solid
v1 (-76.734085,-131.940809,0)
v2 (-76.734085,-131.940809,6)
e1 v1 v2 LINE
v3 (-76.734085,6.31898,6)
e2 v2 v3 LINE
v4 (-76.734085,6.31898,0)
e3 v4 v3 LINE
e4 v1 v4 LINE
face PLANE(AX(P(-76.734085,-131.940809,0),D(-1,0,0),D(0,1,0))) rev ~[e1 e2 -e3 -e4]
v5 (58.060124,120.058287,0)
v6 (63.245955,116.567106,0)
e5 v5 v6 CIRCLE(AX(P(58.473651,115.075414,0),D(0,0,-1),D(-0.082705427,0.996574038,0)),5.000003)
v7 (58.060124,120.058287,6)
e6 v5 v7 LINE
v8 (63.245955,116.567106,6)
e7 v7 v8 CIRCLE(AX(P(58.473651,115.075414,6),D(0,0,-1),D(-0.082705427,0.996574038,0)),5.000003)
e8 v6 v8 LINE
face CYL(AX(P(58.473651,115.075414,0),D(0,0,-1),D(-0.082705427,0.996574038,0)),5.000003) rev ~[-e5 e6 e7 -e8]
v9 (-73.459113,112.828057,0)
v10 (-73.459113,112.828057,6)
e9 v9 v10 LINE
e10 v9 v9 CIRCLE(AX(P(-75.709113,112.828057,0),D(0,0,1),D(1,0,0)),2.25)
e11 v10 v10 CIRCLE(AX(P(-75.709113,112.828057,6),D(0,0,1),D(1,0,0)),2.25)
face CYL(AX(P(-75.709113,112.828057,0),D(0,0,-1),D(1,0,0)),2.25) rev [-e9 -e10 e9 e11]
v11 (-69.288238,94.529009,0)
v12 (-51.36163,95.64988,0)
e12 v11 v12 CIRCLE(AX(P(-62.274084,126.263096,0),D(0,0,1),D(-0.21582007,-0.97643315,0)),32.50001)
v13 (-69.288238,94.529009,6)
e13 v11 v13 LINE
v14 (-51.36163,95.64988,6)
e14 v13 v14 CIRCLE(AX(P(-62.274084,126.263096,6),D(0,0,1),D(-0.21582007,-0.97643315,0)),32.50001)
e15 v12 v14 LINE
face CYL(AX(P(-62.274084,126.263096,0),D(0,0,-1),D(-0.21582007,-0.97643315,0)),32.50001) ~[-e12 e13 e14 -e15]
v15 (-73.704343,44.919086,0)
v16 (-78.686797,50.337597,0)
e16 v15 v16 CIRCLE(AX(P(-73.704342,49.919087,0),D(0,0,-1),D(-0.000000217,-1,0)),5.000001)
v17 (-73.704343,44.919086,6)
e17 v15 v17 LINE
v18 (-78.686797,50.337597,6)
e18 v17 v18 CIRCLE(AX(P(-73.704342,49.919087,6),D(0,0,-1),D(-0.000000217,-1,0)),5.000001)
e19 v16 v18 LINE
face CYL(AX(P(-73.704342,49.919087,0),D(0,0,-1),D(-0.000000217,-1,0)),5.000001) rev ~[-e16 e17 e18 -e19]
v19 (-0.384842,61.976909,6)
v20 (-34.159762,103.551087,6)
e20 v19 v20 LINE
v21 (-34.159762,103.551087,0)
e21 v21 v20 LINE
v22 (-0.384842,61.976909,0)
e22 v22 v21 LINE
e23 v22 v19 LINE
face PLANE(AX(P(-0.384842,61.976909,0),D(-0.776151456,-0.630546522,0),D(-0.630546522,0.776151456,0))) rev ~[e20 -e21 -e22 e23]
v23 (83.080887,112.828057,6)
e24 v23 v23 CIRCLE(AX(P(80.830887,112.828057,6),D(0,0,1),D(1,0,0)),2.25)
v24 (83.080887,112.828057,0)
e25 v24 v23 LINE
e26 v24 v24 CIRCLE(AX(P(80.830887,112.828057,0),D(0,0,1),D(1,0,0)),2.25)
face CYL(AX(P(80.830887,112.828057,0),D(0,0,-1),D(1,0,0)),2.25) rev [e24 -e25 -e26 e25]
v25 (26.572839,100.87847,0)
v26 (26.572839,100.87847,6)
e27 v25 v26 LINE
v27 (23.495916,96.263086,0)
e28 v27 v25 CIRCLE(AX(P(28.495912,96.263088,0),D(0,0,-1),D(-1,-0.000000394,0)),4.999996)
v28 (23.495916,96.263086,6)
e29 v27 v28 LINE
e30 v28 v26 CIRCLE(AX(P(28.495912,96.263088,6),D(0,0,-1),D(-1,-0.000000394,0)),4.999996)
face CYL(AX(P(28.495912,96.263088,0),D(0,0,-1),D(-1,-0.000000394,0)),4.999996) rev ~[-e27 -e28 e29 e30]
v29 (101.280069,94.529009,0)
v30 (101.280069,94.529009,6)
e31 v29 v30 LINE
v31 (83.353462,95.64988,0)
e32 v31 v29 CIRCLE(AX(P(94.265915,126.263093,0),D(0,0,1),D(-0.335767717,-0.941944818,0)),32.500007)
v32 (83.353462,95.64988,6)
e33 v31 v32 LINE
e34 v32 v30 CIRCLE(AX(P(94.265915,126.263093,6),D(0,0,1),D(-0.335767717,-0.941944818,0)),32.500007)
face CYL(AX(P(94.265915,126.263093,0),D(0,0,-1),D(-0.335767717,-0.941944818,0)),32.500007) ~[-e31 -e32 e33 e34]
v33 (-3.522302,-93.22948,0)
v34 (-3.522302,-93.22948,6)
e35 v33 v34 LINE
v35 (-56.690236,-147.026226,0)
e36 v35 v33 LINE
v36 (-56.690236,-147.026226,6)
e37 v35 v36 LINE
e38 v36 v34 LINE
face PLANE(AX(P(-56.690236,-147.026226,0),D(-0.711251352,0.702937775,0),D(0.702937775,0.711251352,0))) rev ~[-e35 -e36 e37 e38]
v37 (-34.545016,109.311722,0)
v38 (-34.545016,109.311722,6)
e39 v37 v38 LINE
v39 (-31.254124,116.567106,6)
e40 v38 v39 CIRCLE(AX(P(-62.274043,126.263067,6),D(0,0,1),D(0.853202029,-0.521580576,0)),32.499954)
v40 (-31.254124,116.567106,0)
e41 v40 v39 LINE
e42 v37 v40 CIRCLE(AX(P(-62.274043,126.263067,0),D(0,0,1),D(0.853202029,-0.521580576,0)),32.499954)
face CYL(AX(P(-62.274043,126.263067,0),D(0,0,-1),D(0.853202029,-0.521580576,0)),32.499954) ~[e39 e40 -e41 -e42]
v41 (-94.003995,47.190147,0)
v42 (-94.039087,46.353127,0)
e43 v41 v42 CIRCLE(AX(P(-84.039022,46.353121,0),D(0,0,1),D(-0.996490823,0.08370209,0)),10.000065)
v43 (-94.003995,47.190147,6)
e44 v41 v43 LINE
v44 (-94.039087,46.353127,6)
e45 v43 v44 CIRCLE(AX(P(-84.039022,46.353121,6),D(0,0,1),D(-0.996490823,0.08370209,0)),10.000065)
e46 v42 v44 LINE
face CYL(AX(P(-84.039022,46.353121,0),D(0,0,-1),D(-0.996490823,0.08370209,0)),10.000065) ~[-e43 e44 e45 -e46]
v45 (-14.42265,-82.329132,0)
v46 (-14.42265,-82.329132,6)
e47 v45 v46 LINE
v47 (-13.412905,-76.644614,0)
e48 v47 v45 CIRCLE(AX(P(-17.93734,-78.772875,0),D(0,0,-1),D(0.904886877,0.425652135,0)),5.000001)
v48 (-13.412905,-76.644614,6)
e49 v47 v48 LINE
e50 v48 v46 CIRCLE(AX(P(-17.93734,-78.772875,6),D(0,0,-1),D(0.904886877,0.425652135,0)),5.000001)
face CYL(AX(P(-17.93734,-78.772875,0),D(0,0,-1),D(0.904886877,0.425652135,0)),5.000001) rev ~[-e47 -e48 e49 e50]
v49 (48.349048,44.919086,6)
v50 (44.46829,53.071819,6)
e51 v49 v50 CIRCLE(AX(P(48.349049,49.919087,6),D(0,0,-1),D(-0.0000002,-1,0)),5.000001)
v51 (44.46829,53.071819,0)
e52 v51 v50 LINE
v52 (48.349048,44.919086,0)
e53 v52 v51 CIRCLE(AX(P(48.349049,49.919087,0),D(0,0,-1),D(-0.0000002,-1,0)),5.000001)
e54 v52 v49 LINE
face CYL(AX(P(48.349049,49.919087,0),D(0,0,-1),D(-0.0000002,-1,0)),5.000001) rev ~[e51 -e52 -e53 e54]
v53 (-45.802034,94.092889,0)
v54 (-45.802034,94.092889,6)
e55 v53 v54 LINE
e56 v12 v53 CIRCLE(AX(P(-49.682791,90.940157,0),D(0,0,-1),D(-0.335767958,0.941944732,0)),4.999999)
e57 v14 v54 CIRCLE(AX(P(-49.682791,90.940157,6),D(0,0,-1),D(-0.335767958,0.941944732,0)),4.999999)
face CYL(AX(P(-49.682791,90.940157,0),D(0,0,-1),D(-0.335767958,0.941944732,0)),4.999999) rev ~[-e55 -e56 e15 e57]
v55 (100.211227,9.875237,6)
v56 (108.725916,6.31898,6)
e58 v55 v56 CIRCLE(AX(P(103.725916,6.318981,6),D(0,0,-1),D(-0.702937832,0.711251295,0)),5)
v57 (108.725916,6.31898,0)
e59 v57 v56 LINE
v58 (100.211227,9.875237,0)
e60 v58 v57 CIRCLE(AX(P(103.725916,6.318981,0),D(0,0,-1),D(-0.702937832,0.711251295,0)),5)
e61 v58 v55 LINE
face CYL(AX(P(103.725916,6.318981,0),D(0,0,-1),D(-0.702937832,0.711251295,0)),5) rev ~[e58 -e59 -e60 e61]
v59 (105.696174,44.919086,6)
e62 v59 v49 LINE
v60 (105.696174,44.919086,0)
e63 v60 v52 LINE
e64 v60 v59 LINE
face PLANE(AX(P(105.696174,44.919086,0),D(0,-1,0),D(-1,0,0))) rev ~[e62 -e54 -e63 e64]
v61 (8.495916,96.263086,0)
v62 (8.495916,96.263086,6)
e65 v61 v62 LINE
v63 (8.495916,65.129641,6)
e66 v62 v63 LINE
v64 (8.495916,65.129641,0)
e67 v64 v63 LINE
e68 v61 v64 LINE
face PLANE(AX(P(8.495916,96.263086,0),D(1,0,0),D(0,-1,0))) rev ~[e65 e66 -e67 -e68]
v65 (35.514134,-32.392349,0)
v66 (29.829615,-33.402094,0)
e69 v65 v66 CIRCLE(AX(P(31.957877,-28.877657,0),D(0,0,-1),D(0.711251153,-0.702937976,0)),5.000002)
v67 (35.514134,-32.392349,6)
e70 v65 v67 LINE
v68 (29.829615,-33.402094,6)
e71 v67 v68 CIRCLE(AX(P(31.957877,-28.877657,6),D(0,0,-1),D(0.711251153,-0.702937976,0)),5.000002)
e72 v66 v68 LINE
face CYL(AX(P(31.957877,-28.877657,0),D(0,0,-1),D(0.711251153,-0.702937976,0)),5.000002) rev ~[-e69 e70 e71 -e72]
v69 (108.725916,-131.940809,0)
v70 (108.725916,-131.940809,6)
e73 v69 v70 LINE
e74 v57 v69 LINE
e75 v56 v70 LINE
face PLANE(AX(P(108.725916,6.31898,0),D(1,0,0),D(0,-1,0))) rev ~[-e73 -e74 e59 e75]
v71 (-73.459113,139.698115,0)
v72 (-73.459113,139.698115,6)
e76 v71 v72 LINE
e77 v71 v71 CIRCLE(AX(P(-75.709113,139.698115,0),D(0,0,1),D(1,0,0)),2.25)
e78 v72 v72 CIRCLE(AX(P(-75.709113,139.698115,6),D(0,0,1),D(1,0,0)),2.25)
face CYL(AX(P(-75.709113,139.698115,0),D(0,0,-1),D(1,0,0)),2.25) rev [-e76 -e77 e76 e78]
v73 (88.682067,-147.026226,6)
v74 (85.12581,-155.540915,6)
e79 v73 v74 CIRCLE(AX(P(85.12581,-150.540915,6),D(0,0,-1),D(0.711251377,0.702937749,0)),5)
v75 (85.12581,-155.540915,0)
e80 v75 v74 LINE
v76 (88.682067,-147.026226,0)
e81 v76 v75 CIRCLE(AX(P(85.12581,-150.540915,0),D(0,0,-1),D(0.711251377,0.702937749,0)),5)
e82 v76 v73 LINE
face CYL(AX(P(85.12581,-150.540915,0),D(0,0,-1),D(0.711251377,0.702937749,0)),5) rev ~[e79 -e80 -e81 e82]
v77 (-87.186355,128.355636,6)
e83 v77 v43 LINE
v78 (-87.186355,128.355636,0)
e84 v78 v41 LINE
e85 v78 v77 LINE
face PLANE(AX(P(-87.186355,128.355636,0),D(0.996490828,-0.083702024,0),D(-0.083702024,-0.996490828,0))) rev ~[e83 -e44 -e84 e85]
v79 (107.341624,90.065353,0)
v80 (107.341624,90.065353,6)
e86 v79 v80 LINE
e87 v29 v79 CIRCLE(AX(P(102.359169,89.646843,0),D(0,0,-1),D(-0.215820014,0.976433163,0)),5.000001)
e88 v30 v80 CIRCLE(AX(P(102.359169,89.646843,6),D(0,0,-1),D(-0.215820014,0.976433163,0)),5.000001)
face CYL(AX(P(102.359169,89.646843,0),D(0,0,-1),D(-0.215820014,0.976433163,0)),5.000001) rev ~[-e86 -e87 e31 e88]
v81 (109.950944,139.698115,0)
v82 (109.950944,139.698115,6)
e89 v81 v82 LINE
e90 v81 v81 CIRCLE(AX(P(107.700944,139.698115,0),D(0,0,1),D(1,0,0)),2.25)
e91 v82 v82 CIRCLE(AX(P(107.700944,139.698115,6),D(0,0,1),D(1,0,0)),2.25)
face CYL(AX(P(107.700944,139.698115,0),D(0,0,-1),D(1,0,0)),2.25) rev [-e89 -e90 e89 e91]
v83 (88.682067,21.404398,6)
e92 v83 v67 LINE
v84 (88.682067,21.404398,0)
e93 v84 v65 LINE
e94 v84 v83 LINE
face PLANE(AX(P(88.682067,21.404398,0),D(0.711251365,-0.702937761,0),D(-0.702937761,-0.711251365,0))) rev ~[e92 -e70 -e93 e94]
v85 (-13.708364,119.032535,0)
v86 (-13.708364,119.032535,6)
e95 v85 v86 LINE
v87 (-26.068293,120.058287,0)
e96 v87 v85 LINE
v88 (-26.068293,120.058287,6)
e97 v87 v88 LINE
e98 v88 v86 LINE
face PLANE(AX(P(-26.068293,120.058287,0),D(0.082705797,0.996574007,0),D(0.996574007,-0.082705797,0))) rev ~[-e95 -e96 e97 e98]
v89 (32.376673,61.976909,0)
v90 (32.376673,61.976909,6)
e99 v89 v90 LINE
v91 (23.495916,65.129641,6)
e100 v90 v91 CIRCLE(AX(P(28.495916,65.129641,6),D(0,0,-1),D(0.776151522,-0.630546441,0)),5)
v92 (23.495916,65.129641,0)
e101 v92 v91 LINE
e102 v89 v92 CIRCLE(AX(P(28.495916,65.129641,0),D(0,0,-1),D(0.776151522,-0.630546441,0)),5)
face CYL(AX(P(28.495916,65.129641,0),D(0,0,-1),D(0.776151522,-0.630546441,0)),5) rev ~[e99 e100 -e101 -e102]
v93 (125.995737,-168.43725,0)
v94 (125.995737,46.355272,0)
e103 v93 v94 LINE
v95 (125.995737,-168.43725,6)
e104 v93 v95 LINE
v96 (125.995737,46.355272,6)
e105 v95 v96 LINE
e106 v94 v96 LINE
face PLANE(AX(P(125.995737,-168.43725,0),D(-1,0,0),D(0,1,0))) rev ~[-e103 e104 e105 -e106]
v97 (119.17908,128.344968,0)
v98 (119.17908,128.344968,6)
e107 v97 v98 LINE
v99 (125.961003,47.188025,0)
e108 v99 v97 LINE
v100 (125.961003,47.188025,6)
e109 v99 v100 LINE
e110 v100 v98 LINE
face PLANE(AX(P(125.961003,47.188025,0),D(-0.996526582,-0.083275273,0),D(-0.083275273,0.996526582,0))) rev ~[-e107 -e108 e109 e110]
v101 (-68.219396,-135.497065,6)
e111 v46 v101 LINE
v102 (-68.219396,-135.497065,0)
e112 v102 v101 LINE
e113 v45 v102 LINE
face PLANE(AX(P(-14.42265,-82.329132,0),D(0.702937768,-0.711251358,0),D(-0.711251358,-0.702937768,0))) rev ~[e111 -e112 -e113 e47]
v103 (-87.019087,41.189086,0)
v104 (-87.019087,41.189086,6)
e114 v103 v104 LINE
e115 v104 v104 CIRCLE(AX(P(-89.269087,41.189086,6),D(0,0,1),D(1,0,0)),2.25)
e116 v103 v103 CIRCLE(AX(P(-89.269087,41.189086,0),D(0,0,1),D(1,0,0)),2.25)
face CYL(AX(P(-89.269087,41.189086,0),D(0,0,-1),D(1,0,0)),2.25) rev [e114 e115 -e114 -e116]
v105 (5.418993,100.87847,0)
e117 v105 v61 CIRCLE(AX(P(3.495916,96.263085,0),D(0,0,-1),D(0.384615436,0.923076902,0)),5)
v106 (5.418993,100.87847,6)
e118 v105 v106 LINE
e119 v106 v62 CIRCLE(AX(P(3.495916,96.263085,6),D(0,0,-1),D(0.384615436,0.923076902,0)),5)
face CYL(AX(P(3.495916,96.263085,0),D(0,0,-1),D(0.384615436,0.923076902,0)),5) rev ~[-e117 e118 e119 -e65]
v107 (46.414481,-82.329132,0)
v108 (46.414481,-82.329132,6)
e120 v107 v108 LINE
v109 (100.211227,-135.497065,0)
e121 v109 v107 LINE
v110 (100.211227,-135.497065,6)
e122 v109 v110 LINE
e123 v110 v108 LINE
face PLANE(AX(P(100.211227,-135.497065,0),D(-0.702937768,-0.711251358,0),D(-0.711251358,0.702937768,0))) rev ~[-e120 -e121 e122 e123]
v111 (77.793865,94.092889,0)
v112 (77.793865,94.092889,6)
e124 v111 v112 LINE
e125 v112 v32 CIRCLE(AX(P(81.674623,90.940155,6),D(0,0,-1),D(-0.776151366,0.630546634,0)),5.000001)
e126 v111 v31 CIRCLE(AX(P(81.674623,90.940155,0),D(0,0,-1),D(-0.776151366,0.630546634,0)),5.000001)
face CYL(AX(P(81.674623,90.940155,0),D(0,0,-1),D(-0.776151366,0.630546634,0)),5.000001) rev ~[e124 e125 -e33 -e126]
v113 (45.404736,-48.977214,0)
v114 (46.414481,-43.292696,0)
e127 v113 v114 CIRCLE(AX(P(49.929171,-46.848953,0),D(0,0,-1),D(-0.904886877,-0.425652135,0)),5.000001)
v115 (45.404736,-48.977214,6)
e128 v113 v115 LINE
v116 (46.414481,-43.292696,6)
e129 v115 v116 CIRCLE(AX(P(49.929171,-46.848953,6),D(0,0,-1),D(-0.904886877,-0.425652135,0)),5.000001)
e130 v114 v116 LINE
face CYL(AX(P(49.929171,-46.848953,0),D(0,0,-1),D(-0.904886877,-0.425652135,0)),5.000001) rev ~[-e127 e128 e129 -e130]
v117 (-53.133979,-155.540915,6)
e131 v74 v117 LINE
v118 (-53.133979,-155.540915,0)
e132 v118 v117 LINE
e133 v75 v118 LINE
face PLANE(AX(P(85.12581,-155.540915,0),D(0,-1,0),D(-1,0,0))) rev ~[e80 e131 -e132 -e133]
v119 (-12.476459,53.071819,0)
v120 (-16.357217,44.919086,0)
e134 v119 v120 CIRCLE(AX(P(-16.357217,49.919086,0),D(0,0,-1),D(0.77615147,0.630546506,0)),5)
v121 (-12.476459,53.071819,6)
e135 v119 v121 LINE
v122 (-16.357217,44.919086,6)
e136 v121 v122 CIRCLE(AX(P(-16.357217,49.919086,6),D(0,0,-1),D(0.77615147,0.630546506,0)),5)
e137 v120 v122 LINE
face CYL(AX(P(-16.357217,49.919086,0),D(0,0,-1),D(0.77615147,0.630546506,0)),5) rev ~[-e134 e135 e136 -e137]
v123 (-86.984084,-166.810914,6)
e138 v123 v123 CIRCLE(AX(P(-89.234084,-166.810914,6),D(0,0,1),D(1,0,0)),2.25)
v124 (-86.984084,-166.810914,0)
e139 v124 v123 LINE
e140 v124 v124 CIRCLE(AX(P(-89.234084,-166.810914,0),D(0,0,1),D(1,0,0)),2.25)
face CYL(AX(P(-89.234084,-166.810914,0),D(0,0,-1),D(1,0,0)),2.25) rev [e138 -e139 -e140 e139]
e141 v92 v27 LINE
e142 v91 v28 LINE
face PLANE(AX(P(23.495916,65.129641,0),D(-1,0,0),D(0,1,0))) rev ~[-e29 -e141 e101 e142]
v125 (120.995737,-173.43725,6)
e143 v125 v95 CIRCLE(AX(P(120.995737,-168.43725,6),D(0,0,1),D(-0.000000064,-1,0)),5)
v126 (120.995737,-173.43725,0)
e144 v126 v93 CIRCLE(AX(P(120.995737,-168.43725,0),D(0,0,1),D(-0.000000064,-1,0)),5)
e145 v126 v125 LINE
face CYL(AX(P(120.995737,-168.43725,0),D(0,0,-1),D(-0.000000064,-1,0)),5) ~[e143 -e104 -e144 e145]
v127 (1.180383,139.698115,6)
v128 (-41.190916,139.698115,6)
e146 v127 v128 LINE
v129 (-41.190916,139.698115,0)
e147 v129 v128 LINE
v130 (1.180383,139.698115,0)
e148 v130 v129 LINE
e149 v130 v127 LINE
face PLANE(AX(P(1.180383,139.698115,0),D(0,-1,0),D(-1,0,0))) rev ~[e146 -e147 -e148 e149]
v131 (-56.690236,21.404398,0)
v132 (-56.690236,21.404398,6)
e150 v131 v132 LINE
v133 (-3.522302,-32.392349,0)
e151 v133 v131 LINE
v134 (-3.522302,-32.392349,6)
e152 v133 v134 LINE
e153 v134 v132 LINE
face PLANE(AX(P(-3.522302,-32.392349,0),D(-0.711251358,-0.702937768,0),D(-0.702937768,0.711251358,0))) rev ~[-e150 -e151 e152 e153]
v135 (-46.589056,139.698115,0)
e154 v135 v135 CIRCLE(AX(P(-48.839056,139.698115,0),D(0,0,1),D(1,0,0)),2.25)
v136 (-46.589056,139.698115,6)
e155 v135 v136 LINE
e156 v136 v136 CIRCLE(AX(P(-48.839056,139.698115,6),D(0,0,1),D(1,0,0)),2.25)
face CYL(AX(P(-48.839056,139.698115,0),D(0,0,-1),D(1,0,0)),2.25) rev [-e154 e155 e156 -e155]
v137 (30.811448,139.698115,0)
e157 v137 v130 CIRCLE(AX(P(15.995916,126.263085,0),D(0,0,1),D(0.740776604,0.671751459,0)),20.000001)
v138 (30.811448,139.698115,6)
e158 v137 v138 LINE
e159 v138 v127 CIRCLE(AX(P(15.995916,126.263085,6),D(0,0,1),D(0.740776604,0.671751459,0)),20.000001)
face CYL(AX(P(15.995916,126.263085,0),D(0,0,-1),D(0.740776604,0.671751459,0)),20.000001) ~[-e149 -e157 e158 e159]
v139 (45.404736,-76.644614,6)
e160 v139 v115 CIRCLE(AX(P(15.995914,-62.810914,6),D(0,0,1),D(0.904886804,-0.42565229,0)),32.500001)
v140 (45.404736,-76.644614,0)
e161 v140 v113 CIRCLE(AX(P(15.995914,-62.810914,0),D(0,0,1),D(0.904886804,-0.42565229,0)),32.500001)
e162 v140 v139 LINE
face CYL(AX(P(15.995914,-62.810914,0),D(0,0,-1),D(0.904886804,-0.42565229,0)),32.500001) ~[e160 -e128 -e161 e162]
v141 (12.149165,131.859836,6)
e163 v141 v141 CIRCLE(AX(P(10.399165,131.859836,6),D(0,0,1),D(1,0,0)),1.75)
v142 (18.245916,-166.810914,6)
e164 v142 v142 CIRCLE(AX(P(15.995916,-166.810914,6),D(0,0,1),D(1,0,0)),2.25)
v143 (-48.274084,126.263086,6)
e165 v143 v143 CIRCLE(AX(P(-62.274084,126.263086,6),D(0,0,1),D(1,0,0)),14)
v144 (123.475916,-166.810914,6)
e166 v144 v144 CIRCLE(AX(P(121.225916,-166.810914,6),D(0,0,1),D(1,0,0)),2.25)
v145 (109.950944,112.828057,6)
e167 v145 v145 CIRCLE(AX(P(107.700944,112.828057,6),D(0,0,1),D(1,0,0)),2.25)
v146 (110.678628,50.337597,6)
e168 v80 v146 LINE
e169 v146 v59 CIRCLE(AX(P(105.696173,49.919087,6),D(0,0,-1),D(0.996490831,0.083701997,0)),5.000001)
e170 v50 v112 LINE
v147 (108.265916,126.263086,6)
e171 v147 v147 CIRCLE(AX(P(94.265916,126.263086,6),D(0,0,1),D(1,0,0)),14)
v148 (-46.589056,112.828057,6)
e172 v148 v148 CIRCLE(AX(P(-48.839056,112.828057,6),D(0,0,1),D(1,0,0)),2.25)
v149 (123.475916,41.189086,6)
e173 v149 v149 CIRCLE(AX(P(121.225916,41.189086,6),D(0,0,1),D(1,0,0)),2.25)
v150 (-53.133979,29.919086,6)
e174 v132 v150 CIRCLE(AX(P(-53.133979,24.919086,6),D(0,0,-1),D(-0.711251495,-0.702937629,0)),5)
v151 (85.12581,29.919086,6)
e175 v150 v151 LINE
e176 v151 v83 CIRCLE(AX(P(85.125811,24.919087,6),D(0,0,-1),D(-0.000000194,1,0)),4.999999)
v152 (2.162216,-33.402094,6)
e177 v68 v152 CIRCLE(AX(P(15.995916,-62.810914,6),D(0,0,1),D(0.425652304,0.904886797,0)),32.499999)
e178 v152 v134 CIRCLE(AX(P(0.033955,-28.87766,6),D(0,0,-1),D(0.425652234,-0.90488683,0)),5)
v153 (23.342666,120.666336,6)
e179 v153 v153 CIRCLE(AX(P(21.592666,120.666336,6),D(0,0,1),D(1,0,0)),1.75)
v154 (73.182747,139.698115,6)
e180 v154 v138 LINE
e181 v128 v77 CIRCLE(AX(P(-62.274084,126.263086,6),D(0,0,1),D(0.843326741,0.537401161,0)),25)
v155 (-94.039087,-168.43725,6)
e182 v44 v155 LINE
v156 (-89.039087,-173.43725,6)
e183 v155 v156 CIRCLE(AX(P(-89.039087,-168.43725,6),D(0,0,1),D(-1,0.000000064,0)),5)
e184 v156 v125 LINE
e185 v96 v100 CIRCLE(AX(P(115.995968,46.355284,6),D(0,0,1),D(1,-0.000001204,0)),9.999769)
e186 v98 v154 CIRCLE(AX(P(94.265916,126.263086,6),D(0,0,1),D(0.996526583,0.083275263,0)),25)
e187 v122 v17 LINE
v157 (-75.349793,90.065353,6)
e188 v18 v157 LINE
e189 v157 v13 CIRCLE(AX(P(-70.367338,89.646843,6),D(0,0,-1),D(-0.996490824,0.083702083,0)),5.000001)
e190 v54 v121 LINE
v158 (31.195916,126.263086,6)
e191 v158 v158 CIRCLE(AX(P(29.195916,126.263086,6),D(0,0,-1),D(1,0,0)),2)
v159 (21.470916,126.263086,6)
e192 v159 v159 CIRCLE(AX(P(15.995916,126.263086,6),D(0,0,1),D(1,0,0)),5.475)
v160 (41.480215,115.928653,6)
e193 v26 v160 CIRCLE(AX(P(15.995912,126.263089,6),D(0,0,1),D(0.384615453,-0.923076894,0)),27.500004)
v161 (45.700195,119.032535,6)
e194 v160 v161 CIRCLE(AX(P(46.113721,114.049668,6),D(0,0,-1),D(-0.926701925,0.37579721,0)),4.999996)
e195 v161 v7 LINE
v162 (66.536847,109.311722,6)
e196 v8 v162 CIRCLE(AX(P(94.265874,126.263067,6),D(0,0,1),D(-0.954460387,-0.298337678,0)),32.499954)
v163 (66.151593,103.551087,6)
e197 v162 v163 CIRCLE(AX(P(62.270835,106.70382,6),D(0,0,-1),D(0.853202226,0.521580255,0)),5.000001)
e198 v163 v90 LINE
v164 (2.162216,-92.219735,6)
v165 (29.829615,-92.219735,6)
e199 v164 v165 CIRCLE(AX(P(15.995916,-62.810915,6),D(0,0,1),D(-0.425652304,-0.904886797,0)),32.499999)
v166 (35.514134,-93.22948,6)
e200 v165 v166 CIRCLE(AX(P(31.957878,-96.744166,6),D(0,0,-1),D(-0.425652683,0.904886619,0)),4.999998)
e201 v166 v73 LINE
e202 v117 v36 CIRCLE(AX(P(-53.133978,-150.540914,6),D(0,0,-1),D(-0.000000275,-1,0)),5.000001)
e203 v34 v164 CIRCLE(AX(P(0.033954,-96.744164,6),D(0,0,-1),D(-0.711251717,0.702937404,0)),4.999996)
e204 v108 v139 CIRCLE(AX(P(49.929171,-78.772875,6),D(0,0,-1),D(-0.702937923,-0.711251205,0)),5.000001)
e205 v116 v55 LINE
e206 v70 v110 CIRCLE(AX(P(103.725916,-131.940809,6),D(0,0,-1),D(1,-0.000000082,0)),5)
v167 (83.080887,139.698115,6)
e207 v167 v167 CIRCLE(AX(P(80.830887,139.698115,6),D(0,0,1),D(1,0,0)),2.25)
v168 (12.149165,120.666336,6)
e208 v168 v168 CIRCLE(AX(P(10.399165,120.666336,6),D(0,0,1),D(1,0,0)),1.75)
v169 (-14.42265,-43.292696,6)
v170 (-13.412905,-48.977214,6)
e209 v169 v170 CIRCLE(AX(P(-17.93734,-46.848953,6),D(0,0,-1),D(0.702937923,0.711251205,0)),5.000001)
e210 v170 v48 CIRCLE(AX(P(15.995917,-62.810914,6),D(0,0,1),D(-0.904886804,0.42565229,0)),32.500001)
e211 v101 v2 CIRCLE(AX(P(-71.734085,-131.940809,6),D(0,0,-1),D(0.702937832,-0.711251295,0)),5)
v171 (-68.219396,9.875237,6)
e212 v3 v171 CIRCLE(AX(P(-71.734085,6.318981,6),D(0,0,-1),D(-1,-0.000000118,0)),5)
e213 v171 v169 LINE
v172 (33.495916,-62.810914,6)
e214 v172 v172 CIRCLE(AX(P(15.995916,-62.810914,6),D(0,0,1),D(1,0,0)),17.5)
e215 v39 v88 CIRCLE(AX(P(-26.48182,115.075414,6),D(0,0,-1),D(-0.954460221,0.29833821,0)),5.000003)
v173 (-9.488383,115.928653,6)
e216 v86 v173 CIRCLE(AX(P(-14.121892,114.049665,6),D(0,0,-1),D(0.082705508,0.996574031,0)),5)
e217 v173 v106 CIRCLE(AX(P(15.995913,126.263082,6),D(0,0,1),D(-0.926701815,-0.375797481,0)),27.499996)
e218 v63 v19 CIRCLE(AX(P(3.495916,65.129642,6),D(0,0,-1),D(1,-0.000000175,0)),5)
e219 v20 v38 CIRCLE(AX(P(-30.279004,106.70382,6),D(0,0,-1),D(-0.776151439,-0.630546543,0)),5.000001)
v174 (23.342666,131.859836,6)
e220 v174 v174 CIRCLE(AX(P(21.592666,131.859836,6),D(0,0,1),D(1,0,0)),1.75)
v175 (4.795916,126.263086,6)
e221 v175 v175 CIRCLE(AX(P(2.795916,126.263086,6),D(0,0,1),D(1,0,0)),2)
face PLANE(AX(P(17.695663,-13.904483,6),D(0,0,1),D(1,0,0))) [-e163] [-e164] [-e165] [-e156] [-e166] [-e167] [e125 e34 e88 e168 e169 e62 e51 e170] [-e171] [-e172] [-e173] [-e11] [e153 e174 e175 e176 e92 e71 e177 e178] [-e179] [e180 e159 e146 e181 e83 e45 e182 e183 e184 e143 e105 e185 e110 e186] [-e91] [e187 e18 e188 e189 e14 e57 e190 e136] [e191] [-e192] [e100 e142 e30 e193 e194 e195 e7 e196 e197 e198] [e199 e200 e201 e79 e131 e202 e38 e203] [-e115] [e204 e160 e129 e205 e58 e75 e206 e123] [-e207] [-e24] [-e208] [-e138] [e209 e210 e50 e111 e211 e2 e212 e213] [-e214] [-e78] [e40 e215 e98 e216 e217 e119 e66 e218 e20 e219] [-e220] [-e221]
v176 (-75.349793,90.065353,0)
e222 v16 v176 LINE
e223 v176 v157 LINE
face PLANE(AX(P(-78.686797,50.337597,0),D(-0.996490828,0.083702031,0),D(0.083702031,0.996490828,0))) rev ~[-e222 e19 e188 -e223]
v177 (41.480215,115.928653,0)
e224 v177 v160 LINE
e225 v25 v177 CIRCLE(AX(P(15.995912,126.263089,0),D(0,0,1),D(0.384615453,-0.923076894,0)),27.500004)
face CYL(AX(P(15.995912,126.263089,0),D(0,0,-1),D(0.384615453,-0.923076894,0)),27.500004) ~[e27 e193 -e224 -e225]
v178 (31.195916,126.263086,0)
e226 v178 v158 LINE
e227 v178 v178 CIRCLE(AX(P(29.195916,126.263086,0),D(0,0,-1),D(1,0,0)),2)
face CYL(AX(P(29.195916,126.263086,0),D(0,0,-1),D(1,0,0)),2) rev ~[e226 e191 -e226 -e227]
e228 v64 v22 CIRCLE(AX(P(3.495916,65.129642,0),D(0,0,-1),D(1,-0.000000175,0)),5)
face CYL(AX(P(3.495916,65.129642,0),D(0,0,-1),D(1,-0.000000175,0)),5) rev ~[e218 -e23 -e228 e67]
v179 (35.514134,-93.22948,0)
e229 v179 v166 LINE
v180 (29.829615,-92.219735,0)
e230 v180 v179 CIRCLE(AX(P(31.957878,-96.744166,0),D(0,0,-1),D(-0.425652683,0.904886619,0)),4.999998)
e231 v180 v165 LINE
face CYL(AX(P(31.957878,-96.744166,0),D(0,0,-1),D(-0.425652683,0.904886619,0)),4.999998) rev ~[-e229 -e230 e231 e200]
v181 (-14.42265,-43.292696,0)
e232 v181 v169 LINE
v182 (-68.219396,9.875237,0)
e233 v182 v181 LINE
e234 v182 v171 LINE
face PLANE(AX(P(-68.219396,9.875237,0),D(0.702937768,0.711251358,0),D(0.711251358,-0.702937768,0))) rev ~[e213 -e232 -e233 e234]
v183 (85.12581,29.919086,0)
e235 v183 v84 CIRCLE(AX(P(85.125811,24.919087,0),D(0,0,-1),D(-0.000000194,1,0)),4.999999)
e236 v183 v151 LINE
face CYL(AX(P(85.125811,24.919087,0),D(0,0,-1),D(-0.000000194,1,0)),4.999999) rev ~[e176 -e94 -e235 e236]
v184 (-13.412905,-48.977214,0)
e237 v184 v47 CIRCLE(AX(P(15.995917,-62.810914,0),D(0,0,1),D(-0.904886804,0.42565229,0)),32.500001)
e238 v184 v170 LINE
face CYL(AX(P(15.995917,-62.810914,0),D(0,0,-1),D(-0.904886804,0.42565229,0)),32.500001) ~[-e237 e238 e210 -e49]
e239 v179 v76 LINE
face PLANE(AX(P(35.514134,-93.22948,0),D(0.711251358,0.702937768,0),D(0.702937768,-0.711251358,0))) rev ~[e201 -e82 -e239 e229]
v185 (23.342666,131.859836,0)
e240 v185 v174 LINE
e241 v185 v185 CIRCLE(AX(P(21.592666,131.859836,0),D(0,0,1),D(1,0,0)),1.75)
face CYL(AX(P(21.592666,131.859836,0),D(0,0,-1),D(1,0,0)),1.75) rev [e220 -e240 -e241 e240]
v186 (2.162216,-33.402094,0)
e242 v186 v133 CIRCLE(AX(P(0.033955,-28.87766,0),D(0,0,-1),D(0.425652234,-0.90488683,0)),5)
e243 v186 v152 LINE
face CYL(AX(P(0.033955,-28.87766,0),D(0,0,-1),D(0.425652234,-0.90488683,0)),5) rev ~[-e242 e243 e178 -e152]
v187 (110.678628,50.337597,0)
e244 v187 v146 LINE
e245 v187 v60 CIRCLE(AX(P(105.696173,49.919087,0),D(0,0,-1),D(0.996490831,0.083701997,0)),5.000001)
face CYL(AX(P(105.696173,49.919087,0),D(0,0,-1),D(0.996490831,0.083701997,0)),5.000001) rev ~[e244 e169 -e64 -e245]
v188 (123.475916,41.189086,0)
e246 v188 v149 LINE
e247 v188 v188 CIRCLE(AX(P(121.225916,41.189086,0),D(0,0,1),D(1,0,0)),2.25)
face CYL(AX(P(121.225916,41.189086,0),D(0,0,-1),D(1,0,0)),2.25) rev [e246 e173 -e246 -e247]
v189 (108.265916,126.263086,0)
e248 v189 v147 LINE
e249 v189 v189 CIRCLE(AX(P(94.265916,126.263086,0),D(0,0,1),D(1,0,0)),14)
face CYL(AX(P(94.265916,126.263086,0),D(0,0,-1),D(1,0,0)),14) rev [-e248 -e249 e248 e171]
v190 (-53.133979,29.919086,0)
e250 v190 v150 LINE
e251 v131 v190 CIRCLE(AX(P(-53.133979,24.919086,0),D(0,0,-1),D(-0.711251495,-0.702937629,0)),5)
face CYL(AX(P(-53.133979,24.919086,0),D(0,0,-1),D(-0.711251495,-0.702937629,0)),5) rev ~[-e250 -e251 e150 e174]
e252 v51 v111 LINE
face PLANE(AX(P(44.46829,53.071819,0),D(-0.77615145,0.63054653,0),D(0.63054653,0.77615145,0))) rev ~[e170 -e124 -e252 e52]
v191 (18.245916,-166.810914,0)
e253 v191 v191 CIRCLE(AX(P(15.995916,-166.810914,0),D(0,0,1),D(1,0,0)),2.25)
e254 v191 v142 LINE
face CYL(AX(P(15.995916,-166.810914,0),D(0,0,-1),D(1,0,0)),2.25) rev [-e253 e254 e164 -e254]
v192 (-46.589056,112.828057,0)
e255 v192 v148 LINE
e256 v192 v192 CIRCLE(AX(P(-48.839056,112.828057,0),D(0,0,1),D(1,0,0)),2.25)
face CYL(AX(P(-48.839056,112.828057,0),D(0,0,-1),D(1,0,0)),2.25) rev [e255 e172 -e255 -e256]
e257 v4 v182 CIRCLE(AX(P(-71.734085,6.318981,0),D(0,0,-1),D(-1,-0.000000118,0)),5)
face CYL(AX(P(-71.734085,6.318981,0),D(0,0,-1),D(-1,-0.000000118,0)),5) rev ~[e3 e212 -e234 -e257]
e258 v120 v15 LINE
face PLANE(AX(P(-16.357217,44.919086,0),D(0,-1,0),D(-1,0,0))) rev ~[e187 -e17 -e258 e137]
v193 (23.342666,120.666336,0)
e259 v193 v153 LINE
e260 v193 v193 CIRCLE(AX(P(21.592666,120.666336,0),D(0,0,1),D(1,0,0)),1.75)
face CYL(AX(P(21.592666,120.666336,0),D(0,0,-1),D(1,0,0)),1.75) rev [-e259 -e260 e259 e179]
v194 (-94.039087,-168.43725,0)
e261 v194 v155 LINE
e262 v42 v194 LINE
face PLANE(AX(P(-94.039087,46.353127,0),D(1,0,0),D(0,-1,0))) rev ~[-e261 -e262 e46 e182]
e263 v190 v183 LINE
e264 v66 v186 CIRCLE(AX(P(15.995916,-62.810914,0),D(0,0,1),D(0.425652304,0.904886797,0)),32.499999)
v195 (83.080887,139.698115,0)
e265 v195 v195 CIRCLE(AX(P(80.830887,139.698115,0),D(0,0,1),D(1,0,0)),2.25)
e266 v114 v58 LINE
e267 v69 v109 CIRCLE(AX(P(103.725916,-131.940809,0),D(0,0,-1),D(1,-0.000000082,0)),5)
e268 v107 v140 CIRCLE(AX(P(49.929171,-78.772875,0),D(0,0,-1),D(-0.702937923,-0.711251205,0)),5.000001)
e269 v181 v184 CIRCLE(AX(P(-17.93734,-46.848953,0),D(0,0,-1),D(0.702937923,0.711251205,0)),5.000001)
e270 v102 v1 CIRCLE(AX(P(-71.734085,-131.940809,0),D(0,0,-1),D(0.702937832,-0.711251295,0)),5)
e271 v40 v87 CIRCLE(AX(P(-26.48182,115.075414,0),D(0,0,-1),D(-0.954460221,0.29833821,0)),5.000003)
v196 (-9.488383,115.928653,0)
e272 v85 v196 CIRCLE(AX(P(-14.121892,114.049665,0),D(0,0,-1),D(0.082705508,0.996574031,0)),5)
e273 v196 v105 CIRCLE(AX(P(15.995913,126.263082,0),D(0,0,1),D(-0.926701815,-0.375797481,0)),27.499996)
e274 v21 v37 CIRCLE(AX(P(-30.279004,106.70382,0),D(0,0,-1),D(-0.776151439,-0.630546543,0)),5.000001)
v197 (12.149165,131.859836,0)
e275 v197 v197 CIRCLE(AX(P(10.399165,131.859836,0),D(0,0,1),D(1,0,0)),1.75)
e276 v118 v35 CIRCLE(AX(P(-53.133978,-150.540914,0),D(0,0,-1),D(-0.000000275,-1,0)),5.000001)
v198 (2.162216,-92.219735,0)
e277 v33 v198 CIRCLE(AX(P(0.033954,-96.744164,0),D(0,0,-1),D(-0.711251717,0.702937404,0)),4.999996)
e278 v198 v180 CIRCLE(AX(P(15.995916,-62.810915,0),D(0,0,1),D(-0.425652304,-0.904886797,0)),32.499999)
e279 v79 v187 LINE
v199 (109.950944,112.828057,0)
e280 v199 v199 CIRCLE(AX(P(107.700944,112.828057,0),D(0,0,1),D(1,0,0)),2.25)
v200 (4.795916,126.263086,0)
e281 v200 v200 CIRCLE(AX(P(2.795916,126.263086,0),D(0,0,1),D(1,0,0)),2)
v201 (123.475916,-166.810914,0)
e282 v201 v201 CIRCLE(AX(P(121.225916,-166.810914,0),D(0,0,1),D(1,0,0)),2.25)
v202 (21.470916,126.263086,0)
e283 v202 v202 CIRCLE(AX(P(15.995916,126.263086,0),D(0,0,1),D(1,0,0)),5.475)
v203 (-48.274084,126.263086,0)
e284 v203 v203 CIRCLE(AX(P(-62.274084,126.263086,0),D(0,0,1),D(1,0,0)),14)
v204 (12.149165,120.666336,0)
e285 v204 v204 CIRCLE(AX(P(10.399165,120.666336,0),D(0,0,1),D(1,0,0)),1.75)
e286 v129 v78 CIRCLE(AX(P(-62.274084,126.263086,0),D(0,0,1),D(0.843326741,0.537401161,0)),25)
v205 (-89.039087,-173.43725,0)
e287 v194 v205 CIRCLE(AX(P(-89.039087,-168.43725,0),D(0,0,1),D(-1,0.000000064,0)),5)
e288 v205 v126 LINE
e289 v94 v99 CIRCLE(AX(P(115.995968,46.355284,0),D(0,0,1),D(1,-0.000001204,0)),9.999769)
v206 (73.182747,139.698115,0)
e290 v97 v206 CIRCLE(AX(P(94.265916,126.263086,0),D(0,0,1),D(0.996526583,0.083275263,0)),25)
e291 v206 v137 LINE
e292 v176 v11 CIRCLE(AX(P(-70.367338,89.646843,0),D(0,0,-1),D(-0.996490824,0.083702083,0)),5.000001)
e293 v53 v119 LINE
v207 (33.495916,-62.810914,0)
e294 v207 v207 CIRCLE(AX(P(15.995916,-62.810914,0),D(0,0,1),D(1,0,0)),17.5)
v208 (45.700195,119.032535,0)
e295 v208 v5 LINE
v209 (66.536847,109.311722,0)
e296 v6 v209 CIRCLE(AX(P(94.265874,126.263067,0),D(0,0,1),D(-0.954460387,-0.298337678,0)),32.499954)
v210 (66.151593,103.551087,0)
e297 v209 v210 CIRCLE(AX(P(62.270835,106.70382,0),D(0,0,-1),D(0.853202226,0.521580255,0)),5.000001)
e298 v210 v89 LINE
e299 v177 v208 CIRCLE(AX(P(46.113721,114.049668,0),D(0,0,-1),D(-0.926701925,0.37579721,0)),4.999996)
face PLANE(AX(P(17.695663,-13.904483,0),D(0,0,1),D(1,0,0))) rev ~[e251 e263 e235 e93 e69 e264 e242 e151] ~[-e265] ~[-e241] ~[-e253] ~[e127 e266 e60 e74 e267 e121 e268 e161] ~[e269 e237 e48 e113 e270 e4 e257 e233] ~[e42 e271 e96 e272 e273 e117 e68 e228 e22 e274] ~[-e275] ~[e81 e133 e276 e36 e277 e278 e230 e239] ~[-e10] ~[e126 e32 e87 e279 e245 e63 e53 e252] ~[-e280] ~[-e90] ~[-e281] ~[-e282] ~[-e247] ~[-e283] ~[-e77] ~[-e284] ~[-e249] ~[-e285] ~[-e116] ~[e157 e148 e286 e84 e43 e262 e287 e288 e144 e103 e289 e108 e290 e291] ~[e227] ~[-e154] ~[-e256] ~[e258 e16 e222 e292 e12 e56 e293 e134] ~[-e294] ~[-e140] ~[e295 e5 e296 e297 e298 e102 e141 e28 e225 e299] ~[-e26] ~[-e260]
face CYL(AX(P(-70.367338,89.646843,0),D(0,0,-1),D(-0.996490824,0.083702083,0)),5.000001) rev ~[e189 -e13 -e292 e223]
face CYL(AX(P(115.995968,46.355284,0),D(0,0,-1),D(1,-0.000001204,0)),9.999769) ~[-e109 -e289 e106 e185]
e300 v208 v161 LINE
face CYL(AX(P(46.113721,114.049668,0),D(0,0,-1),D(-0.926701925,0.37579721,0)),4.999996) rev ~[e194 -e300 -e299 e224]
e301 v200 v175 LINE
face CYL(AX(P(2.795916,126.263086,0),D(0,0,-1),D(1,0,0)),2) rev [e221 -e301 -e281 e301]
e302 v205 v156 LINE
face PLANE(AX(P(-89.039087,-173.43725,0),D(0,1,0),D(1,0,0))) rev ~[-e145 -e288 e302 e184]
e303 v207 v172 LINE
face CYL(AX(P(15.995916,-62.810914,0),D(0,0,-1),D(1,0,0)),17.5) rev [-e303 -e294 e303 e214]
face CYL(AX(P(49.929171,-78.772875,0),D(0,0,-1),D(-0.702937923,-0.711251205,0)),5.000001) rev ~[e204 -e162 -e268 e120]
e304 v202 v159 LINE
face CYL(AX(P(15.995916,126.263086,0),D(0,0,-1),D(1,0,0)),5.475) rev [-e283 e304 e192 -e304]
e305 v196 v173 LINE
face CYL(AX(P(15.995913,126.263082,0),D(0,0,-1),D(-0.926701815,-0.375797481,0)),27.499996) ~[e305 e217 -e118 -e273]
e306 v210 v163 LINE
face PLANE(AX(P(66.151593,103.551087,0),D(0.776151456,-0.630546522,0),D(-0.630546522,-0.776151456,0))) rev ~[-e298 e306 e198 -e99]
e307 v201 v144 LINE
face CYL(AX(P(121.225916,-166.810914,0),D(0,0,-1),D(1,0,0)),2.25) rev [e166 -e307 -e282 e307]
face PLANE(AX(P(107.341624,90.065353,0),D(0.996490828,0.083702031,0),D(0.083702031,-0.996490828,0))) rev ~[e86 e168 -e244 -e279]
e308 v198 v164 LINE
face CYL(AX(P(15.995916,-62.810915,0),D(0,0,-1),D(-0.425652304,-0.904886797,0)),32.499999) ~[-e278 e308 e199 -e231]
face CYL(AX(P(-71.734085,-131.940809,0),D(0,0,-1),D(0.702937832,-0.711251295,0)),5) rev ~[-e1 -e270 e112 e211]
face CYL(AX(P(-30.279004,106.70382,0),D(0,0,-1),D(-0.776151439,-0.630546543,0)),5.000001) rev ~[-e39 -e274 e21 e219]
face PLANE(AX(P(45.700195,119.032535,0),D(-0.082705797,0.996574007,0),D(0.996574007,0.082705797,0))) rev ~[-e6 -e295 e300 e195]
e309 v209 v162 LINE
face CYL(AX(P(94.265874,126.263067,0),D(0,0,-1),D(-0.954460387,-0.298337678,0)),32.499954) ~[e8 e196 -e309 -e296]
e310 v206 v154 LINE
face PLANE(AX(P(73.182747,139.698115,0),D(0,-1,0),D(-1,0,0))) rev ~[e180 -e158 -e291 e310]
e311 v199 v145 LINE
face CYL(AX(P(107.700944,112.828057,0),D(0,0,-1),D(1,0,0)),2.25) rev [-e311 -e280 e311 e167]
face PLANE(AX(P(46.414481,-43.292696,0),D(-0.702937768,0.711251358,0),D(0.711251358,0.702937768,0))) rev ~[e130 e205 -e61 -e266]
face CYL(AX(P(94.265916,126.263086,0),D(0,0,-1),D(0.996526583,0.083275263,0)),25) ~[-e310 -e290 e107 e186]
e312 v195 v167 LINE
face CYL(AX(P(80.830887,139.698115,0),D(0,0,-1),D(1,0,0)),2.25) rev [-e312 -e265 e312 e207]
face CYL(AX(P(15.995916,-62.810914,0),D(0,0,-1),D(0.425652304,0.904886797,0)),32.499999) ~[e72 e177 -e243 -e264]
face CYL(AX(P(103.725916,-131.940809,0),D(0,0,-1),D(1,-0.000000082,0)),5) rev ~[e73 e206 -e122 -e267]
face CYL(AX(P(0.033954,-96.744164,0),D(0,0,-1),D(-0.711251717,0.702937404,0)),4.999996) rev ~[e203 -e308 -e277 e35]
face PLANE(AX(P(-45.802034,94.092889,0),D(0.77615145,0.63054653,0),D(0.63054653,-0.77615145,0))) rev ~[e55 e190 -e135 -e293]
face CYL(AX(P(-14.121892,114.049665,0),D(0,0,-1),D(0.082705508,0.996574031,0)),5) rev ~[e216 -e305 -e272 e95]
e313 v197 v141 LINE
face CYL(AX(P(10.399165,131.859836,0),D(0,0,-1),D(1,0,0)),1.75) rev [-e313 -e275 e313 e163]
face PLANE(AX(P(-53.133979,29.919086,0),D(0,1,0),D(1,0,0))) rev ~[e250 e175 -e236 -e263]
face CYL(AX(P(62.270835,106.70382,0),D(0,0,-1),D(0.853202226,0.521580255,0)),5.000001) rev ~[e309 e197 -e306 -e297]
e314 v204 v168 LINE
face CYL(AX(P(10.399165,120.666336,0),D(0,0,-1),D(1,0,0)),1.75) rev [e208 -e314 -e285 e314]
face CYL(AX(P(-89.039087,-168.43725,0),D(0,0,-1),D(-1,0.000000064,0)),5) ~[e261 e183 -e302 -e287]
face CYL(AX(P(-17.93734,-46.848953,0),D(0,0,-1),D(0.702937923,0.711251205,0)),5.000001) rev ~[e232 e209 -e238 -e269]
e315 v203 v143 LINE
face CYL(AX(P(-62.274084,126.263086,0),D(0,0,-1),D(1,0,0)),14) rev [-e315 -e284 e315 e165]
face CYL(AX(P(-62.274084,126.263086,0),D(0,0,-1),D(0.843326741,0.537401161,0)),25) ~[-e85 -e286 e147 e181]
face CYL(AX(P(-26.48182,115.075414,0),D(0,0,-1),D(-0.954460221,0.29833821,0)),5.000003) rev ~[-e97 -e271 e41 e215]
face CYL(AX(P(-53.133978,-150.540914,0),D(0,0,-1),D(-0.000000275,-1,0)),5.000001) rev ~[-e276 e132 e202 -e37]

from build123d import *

# Parameters (mm, degrees)
F0_R     = 2.25
F0_R_2   = 17.5
F0_R_3   = 14
F0_R_4   = 1.75
F0_R_5   = 2
F0_R_6   = 5.475
F1_DEPTH = 6


with BuildPart() as f1:
    # F0 (on Top) → F1 (new body)
    with BuildSketch(Plane.XY):
        with BuildLine():
            ThreePointArc((-94.039087, -168.43725), (-92.574621, -171.972784), (-89.039087, -173.43725))
            Line((-89.039087, -173.43725), (120.995737, -173.43725))
            ThreePointArc((120.995737, -173.43725), (124.531271, -171.972784), (125.995737, -168.43725))
            Line((125.995737, -168.43725), (125.995737, 46.355272))
            ThreePointArc((125.995737, 46.355272), (125.98705, 46.77201), (125.961003, 47.188025))
            Line((125.961003, 47.188025), (119.17908, 128.344968))
            ThreePointArc((119.17908, 128.344968), (119.244197, 127.304932), (119.265916, 126.263086))
            ThreePointArc((119.265916, 126.263086), (94.265916, 101.263086), (69.265916, 126.263086))
            ThreePointArc((69.265916, 126.263086), (70.26509, 133.260256), (73.182747, 139.698115))
            Line((73.182747, 139.698115), (30.811448, 139.698115))
            ThreePointArc((30.811448, 139.698115), (15.995916, 146.263086), (1.180383, 139.698115))
            Line((1.180383, 139.698115), (-41.190916, 139.698115))
            ThreePointArc((-41.190916, 139.698115), (-68.259772, 150.535942), (-87.186355, 128.355636))
            Line((-87.186355, 128.355636), (-94.003995, 47.190147))
            ThreePointArc((-94.003995, 47.190147), (-94.03031, 46.772005), (-94.039087, 46.353127))
            Line((-94.039087, 46.353127), (-94.039087, -168.43725))
        make_face()
        with Locations((-89.234084, -166.810914)):
            Circle(F0_R, mode=Mode.SUBTRACT)
        with BuildLine():
            ThreePointArc((-76.734085, 6.31898), (-73.661072, 10.932734), (-68.219396, 9.875237))
            Line((-68.219396, 9.875237), (-14.42265, -43.292696))
            ThreePointArc((-14.42265, -43.292696), (-13.014402, -45.974488), (-13.412905, -48.977214))
            ThreePointArc((-13.412905, -48.977214), (-16.504084, -62.810914), (-13.412905, -76.644614))
            ThreePointArc((-13.412905, -76.644614), (-13.014402, -79.64734), (-14.42265, -82.329132))
            Line((-14.42265, -82.329132), (-68.219396, -135.497065))
            ThreePointArc((-68.219396, -135.497065), (-73.661072, -136.554562), (-76.734085, -131.940809))
            Line((-76.734085, -131.940809), (-76.734085, 6.31898))
        make_face(mode=Mode.SUBTRACT)
        with Locations((15.995916, -166.810914)):
            Circle(F0_R, mode=Mode.SUBTRACT)
        with BuildLine():
            ThreePointArc((29.829615, -92.219735), (32.832342, -91.821231), (35.514134, -93.22948))
            Line((35.514134, -93.22948), (88.682067, -147.026226))
            ThreePointArc((88.682067, -147.026226), (89.739564, -152.467901), (85.12581, -155.540915))
            Line((85.12581, -155.540915), (-53.133979, -155.540915))
            ThreePointArc((-53.133979, -155.540915), (-57.747732, -152.467901), (-56.690236, -147.026226))
            Line((-56.690236, -147.026226), (-3.522302, -93.22948))
            ThreePointArc((-3.522302, -93.22948), (-0.840511, -91.821231), (2.162216, -92.219735))
            ThreePointArc((2.162216, -92.219735), (15.995916, -95.310914), (29.829615, -92.219735))
        make_face(mode=Mode.SUBTRACT)
        with Locations((121.225916, -166.810914)):
            Circle(F0_R, mode=Mode.SUBTRACT)
        with Locations((15.995916, -62.810914)):
            Circle(F0_R_2, mode=Mode.SUBTRACT)
        with BuildLine():
            ThreePointArc((45.404736, -48.977214), (45.006233, -45.974488), (46.414481, -43.292696))
            Line((46.414481, -43.292696), (100.211227, 9.875237))
            ThreePointArc((100.211227, 9.875237), (105.652903, 10.932734), (108.725916, 6.31898))
            Line((108.725916, 6.31898), (108.725916, -131.940809))
            ThreePointArc((108.725916, -131.940809), (105.652903, -136.554562), (100.211227, -135.497065))
            Line((100.211227, -135.497065), (46.414481, -82.329132))
            ThreePointArc((46.414481, -82.329132), (45.006233, -79.64734), (45.404736, -76.644614))
            ThreePointArc((45.404736, -76.644614), (48.495915, -62.810914), (45.404736, -48.977214))
        make_face(mode=Mode.SUBTRACT)
        with Locations((-89.269087, 41.189086)):
            Circle(F0_R, mode=Mode.SUBTRACT)
        with BuildLine():
            Line((-45.802034, 94.092889), (-12.476459, 53.071819))
            ThreePointArc((-12.476459, 53.071819), (-11.842592, 47.770094), (-16.357217, 44.919086))
            Line((-16.357217, 44.919086), (-73.704343, 44.919086))
            ThreePointArc((-73.704343, 44.919086), (-77.384869, 46.534751), (-78.686797, 50.337597))
            Line((-78.686797, 50.337597), (-75.349793, 90.065353))
            ThreePointArc((-75.349793, 90.065353), (-73.332149, 93.672995), (-69.288238, 94.529009))
            ThreePointArc((-69.288238, 94.529009), (-60.245963, 93.826429), (-51.36163, 95.64988))
            ThreePointArc((-51.36163, 95.64988), (-48.334397, 95.754908), (-45.802034, 94.092889))
        make_face(mode=Mode.SUBTRACT)
        with Locations((-75.709113, 112.828057)):
            Circle(F0_R, mode=Mode.SUBTRACT)
        with Locations((-75.709113, 139.698115)):
            Circle(F0_R, mode=Mode.SUBTRACT)
        with Locations((-62.274084, 126.263086)):
            Circle(F0_R_3, mode=Mode.SUBTRACT)
        with Locations((-48.839056, 112.828057)):
            Circle(F0_R, mode=Mode.SUBTRACT)
        with Locations((-48.839056, 139.698115)):
            Circle(F0_R, mode=Mode.SUBTRACT)
        with BuildLine():
            ThreePointArc((8.495916, 65.129641), (5.16867, 60.417753), (-0.384842, 61.976909))
            Line((-0.384842, 61.976909), (-34.159762, 103.551087))
            ThreePointArc((-34.159762, 103.551087), (-35.267861, 106.37018), (-34.545016, 109.311722))
            ThreePointArc((-34.545016, 109.311722), (-32.676411, 112.838194), (-31.254124, 116.567106))
            ThreePointArc((-31.254124, 116.567106), (-29.274099, 119.223089), (-26.068293, 120.058287))
            Line((-26.068293, 120.058287), (-13.708364, 119.032535))
            ThreePointArc((-13.708364, 119.032535), (-11.159348, 118.077485), (-9.488383, 115.928653))
            ThreePointArc((-9.488383, 115.928653), (-3.541995, 106.910565), (5.418993, 100.87847))
            ThreePointArc((5.418993, 100.87847), (7.656167, 99.036587), (8.495916, 96.263086))
            Line((8.495916, 96.263086), (8.495916, 65.129641))
        make_face(mode=Mode.SUBTRACT)
        with Locations((10.399165, 120.666336)):
            Circle(F0_R_4, mode=Mode.SUBTRACT)
        with Locations((2.795916, 126.263086)):
            Circle(F0_R_5, mode=Mode.SUBTRACT)
        with Locations((10.399165, 131.859836)):
            Circle(F0_R_4, mode=Mode.SUBTRACT)
        with BuildLine():
            ThreePointArc((2.162216, -33.402094), (-0.840511, -33.800597), (-3.522302, -32.392349))
            Line((-3.522302, -32.392349), (-56.690236, 21.404398))
            ThreePointArc((-56.690236, 21.404398), (-57.747732, 26.846073), (-53.133979, 29.919086))
            Line((-53.133979, 29.919086), (85.12581, 29.919086))
            ThreePointArc((85.12581, 29.919086), (89.739564, 26.846073), (88.682067, 21.404398))
            Line((88.682067, 21.404398), (35.514134, -32.392349))
            ThreePointArc((35.514134, -32.392349), (32.832342, -33.800597), (29.829615, -33.402094))
            ThreePointArc((29.829615, -33.402094), (15.995916, -30.310915), (2.162216, -33.402094))
        make_face(mode=Mode.SUBTRACT)
        with Locations((121.225916, 41.189086)):
            Circle(F0_R, mode=Mode.SUBTRACT)
        with BuildLine():
            Line((23.495916, 65.129641), (23.495916, 96.263086))
            ThreePointArc((23.495916, 96.263086), (24.335664, 99.036587), (26.572839, 100.87847))
            ThreePointArc((26.572839, 100.87847), (35.533826, 106.910565), (41.480215, 115.928653))
            ThreePointArc((41.480215, 115.928653), (43.151179, 118.077485), (45.700195, 119.032535))
            Line((45.700195, 119.032535), (58.060124, 120.058287))
            ThreePointArc((58.060124, 120.058287), (61.26593, 119.223089), (63.245955, 116.567106))
            ThreePointArc((63.245955, 116.567106), (64.668242, 112.838194), (66.536847, 109.311722))
            ThreePointArc((66.536847, 109.311722), (67.259692, 106.37018), (66.151593, 103.551087))
            Line((66.151593, 103.551087), (32.376673, 61.976909))
            ThreePointArc((32.376673, 61.976909), (26.823161, 60.417753), (23.495916, 65.129641))
        make_face(mode=Mode.SUBTRACT)
        with Locations((21.592666, 120.666336)):
            Circle(F0_R_4, mode=Mode.SUBTRACT)
        with Locations((15.995916, 126.263086)):
            Circle(F0_R_6, mode=Mode.SUBTRACT)
        with BuildLine():
            ThreePointArc((27.195916, 126.263086), (29.195916, 128.263086), (31.195916, 126.263086))
            ThreePointArc((31.195916, 126.263086), (29.195916, 124.263086), (27.195916, 126.263086))
        make_face(mode=Mode.SUBTRACT)
        with Locations((21.592666, 131.859836)):
            Circle(F0_R_4, mode=Mode.SUBTRACT)
        with BuildLine():
            ThreePointArc((48.349048, 44.919086), (43.834424, 47.770094), (44.46829, 53.071819))
            Line((44.46829, 53.071819), (77.793865, 94.092889))
            ThreePointArc((77.793865, 94.092889), (80.326229, 95.754908), (83.353462, 95.64988))
            ThreePointArc((83.353462, 95.64988), (92.237795, 93.826429), (101.280069, 94.529009))
            ThreePointArc((101.280069, 94.529009), (105.32398, 93.672995), (107.341624, 90.065353))
            Line((107.341624, 90.065353), (110.678628, 50.337597))
            ThreePointArc((110.678628, 50.337597), (109.3767, 46.534751), (105.696174, 44.919086))
            Line((105.696174, 44.919086), (48.349048, 44.919086))
        make_face(mode=Mode.SUBTRACT)
        with BuildLine():
            ThreePointArc((119.265916, 126.263086), (119.244197, 127.304932), (119.17908, 128.344968))
            ThreePointArc((119.17908, 128.344968), (100.256801, 150.53466), (73.182747, 139.698115))
            ThreePointArc((73.182747, 139.698115), (70.26509, 133.260256), (69.265916, 126.263086))
            ThreePointArc((69.265916, 126.263086), (94.265916, 101.263086), (119.265916, 126.263086))
        make_face()
        with Locations((80.830887, 112.828057)):
            Circle(F0_R, mode=Mode.SUBTRACT)
        with Locations((94.265916, 126.263086)):
            Circle(F0_R_3, mode=Mode.SUBTRACT)
        with Locations((80.830887, 139.698115)):
            Circle(F0_R, mode=Mode.SUBTRACT)
        with Locations((107.700944, 112.828057)):
            Circle(F0_R, mode=Mode.SUBTRACT)
        with Locations((107.700944, 139.698115)):
            Circle(F0_R, mode=Mode.SUBTRACT)
    extrude(amount=F1_DEPTH)


solid = f1.part
